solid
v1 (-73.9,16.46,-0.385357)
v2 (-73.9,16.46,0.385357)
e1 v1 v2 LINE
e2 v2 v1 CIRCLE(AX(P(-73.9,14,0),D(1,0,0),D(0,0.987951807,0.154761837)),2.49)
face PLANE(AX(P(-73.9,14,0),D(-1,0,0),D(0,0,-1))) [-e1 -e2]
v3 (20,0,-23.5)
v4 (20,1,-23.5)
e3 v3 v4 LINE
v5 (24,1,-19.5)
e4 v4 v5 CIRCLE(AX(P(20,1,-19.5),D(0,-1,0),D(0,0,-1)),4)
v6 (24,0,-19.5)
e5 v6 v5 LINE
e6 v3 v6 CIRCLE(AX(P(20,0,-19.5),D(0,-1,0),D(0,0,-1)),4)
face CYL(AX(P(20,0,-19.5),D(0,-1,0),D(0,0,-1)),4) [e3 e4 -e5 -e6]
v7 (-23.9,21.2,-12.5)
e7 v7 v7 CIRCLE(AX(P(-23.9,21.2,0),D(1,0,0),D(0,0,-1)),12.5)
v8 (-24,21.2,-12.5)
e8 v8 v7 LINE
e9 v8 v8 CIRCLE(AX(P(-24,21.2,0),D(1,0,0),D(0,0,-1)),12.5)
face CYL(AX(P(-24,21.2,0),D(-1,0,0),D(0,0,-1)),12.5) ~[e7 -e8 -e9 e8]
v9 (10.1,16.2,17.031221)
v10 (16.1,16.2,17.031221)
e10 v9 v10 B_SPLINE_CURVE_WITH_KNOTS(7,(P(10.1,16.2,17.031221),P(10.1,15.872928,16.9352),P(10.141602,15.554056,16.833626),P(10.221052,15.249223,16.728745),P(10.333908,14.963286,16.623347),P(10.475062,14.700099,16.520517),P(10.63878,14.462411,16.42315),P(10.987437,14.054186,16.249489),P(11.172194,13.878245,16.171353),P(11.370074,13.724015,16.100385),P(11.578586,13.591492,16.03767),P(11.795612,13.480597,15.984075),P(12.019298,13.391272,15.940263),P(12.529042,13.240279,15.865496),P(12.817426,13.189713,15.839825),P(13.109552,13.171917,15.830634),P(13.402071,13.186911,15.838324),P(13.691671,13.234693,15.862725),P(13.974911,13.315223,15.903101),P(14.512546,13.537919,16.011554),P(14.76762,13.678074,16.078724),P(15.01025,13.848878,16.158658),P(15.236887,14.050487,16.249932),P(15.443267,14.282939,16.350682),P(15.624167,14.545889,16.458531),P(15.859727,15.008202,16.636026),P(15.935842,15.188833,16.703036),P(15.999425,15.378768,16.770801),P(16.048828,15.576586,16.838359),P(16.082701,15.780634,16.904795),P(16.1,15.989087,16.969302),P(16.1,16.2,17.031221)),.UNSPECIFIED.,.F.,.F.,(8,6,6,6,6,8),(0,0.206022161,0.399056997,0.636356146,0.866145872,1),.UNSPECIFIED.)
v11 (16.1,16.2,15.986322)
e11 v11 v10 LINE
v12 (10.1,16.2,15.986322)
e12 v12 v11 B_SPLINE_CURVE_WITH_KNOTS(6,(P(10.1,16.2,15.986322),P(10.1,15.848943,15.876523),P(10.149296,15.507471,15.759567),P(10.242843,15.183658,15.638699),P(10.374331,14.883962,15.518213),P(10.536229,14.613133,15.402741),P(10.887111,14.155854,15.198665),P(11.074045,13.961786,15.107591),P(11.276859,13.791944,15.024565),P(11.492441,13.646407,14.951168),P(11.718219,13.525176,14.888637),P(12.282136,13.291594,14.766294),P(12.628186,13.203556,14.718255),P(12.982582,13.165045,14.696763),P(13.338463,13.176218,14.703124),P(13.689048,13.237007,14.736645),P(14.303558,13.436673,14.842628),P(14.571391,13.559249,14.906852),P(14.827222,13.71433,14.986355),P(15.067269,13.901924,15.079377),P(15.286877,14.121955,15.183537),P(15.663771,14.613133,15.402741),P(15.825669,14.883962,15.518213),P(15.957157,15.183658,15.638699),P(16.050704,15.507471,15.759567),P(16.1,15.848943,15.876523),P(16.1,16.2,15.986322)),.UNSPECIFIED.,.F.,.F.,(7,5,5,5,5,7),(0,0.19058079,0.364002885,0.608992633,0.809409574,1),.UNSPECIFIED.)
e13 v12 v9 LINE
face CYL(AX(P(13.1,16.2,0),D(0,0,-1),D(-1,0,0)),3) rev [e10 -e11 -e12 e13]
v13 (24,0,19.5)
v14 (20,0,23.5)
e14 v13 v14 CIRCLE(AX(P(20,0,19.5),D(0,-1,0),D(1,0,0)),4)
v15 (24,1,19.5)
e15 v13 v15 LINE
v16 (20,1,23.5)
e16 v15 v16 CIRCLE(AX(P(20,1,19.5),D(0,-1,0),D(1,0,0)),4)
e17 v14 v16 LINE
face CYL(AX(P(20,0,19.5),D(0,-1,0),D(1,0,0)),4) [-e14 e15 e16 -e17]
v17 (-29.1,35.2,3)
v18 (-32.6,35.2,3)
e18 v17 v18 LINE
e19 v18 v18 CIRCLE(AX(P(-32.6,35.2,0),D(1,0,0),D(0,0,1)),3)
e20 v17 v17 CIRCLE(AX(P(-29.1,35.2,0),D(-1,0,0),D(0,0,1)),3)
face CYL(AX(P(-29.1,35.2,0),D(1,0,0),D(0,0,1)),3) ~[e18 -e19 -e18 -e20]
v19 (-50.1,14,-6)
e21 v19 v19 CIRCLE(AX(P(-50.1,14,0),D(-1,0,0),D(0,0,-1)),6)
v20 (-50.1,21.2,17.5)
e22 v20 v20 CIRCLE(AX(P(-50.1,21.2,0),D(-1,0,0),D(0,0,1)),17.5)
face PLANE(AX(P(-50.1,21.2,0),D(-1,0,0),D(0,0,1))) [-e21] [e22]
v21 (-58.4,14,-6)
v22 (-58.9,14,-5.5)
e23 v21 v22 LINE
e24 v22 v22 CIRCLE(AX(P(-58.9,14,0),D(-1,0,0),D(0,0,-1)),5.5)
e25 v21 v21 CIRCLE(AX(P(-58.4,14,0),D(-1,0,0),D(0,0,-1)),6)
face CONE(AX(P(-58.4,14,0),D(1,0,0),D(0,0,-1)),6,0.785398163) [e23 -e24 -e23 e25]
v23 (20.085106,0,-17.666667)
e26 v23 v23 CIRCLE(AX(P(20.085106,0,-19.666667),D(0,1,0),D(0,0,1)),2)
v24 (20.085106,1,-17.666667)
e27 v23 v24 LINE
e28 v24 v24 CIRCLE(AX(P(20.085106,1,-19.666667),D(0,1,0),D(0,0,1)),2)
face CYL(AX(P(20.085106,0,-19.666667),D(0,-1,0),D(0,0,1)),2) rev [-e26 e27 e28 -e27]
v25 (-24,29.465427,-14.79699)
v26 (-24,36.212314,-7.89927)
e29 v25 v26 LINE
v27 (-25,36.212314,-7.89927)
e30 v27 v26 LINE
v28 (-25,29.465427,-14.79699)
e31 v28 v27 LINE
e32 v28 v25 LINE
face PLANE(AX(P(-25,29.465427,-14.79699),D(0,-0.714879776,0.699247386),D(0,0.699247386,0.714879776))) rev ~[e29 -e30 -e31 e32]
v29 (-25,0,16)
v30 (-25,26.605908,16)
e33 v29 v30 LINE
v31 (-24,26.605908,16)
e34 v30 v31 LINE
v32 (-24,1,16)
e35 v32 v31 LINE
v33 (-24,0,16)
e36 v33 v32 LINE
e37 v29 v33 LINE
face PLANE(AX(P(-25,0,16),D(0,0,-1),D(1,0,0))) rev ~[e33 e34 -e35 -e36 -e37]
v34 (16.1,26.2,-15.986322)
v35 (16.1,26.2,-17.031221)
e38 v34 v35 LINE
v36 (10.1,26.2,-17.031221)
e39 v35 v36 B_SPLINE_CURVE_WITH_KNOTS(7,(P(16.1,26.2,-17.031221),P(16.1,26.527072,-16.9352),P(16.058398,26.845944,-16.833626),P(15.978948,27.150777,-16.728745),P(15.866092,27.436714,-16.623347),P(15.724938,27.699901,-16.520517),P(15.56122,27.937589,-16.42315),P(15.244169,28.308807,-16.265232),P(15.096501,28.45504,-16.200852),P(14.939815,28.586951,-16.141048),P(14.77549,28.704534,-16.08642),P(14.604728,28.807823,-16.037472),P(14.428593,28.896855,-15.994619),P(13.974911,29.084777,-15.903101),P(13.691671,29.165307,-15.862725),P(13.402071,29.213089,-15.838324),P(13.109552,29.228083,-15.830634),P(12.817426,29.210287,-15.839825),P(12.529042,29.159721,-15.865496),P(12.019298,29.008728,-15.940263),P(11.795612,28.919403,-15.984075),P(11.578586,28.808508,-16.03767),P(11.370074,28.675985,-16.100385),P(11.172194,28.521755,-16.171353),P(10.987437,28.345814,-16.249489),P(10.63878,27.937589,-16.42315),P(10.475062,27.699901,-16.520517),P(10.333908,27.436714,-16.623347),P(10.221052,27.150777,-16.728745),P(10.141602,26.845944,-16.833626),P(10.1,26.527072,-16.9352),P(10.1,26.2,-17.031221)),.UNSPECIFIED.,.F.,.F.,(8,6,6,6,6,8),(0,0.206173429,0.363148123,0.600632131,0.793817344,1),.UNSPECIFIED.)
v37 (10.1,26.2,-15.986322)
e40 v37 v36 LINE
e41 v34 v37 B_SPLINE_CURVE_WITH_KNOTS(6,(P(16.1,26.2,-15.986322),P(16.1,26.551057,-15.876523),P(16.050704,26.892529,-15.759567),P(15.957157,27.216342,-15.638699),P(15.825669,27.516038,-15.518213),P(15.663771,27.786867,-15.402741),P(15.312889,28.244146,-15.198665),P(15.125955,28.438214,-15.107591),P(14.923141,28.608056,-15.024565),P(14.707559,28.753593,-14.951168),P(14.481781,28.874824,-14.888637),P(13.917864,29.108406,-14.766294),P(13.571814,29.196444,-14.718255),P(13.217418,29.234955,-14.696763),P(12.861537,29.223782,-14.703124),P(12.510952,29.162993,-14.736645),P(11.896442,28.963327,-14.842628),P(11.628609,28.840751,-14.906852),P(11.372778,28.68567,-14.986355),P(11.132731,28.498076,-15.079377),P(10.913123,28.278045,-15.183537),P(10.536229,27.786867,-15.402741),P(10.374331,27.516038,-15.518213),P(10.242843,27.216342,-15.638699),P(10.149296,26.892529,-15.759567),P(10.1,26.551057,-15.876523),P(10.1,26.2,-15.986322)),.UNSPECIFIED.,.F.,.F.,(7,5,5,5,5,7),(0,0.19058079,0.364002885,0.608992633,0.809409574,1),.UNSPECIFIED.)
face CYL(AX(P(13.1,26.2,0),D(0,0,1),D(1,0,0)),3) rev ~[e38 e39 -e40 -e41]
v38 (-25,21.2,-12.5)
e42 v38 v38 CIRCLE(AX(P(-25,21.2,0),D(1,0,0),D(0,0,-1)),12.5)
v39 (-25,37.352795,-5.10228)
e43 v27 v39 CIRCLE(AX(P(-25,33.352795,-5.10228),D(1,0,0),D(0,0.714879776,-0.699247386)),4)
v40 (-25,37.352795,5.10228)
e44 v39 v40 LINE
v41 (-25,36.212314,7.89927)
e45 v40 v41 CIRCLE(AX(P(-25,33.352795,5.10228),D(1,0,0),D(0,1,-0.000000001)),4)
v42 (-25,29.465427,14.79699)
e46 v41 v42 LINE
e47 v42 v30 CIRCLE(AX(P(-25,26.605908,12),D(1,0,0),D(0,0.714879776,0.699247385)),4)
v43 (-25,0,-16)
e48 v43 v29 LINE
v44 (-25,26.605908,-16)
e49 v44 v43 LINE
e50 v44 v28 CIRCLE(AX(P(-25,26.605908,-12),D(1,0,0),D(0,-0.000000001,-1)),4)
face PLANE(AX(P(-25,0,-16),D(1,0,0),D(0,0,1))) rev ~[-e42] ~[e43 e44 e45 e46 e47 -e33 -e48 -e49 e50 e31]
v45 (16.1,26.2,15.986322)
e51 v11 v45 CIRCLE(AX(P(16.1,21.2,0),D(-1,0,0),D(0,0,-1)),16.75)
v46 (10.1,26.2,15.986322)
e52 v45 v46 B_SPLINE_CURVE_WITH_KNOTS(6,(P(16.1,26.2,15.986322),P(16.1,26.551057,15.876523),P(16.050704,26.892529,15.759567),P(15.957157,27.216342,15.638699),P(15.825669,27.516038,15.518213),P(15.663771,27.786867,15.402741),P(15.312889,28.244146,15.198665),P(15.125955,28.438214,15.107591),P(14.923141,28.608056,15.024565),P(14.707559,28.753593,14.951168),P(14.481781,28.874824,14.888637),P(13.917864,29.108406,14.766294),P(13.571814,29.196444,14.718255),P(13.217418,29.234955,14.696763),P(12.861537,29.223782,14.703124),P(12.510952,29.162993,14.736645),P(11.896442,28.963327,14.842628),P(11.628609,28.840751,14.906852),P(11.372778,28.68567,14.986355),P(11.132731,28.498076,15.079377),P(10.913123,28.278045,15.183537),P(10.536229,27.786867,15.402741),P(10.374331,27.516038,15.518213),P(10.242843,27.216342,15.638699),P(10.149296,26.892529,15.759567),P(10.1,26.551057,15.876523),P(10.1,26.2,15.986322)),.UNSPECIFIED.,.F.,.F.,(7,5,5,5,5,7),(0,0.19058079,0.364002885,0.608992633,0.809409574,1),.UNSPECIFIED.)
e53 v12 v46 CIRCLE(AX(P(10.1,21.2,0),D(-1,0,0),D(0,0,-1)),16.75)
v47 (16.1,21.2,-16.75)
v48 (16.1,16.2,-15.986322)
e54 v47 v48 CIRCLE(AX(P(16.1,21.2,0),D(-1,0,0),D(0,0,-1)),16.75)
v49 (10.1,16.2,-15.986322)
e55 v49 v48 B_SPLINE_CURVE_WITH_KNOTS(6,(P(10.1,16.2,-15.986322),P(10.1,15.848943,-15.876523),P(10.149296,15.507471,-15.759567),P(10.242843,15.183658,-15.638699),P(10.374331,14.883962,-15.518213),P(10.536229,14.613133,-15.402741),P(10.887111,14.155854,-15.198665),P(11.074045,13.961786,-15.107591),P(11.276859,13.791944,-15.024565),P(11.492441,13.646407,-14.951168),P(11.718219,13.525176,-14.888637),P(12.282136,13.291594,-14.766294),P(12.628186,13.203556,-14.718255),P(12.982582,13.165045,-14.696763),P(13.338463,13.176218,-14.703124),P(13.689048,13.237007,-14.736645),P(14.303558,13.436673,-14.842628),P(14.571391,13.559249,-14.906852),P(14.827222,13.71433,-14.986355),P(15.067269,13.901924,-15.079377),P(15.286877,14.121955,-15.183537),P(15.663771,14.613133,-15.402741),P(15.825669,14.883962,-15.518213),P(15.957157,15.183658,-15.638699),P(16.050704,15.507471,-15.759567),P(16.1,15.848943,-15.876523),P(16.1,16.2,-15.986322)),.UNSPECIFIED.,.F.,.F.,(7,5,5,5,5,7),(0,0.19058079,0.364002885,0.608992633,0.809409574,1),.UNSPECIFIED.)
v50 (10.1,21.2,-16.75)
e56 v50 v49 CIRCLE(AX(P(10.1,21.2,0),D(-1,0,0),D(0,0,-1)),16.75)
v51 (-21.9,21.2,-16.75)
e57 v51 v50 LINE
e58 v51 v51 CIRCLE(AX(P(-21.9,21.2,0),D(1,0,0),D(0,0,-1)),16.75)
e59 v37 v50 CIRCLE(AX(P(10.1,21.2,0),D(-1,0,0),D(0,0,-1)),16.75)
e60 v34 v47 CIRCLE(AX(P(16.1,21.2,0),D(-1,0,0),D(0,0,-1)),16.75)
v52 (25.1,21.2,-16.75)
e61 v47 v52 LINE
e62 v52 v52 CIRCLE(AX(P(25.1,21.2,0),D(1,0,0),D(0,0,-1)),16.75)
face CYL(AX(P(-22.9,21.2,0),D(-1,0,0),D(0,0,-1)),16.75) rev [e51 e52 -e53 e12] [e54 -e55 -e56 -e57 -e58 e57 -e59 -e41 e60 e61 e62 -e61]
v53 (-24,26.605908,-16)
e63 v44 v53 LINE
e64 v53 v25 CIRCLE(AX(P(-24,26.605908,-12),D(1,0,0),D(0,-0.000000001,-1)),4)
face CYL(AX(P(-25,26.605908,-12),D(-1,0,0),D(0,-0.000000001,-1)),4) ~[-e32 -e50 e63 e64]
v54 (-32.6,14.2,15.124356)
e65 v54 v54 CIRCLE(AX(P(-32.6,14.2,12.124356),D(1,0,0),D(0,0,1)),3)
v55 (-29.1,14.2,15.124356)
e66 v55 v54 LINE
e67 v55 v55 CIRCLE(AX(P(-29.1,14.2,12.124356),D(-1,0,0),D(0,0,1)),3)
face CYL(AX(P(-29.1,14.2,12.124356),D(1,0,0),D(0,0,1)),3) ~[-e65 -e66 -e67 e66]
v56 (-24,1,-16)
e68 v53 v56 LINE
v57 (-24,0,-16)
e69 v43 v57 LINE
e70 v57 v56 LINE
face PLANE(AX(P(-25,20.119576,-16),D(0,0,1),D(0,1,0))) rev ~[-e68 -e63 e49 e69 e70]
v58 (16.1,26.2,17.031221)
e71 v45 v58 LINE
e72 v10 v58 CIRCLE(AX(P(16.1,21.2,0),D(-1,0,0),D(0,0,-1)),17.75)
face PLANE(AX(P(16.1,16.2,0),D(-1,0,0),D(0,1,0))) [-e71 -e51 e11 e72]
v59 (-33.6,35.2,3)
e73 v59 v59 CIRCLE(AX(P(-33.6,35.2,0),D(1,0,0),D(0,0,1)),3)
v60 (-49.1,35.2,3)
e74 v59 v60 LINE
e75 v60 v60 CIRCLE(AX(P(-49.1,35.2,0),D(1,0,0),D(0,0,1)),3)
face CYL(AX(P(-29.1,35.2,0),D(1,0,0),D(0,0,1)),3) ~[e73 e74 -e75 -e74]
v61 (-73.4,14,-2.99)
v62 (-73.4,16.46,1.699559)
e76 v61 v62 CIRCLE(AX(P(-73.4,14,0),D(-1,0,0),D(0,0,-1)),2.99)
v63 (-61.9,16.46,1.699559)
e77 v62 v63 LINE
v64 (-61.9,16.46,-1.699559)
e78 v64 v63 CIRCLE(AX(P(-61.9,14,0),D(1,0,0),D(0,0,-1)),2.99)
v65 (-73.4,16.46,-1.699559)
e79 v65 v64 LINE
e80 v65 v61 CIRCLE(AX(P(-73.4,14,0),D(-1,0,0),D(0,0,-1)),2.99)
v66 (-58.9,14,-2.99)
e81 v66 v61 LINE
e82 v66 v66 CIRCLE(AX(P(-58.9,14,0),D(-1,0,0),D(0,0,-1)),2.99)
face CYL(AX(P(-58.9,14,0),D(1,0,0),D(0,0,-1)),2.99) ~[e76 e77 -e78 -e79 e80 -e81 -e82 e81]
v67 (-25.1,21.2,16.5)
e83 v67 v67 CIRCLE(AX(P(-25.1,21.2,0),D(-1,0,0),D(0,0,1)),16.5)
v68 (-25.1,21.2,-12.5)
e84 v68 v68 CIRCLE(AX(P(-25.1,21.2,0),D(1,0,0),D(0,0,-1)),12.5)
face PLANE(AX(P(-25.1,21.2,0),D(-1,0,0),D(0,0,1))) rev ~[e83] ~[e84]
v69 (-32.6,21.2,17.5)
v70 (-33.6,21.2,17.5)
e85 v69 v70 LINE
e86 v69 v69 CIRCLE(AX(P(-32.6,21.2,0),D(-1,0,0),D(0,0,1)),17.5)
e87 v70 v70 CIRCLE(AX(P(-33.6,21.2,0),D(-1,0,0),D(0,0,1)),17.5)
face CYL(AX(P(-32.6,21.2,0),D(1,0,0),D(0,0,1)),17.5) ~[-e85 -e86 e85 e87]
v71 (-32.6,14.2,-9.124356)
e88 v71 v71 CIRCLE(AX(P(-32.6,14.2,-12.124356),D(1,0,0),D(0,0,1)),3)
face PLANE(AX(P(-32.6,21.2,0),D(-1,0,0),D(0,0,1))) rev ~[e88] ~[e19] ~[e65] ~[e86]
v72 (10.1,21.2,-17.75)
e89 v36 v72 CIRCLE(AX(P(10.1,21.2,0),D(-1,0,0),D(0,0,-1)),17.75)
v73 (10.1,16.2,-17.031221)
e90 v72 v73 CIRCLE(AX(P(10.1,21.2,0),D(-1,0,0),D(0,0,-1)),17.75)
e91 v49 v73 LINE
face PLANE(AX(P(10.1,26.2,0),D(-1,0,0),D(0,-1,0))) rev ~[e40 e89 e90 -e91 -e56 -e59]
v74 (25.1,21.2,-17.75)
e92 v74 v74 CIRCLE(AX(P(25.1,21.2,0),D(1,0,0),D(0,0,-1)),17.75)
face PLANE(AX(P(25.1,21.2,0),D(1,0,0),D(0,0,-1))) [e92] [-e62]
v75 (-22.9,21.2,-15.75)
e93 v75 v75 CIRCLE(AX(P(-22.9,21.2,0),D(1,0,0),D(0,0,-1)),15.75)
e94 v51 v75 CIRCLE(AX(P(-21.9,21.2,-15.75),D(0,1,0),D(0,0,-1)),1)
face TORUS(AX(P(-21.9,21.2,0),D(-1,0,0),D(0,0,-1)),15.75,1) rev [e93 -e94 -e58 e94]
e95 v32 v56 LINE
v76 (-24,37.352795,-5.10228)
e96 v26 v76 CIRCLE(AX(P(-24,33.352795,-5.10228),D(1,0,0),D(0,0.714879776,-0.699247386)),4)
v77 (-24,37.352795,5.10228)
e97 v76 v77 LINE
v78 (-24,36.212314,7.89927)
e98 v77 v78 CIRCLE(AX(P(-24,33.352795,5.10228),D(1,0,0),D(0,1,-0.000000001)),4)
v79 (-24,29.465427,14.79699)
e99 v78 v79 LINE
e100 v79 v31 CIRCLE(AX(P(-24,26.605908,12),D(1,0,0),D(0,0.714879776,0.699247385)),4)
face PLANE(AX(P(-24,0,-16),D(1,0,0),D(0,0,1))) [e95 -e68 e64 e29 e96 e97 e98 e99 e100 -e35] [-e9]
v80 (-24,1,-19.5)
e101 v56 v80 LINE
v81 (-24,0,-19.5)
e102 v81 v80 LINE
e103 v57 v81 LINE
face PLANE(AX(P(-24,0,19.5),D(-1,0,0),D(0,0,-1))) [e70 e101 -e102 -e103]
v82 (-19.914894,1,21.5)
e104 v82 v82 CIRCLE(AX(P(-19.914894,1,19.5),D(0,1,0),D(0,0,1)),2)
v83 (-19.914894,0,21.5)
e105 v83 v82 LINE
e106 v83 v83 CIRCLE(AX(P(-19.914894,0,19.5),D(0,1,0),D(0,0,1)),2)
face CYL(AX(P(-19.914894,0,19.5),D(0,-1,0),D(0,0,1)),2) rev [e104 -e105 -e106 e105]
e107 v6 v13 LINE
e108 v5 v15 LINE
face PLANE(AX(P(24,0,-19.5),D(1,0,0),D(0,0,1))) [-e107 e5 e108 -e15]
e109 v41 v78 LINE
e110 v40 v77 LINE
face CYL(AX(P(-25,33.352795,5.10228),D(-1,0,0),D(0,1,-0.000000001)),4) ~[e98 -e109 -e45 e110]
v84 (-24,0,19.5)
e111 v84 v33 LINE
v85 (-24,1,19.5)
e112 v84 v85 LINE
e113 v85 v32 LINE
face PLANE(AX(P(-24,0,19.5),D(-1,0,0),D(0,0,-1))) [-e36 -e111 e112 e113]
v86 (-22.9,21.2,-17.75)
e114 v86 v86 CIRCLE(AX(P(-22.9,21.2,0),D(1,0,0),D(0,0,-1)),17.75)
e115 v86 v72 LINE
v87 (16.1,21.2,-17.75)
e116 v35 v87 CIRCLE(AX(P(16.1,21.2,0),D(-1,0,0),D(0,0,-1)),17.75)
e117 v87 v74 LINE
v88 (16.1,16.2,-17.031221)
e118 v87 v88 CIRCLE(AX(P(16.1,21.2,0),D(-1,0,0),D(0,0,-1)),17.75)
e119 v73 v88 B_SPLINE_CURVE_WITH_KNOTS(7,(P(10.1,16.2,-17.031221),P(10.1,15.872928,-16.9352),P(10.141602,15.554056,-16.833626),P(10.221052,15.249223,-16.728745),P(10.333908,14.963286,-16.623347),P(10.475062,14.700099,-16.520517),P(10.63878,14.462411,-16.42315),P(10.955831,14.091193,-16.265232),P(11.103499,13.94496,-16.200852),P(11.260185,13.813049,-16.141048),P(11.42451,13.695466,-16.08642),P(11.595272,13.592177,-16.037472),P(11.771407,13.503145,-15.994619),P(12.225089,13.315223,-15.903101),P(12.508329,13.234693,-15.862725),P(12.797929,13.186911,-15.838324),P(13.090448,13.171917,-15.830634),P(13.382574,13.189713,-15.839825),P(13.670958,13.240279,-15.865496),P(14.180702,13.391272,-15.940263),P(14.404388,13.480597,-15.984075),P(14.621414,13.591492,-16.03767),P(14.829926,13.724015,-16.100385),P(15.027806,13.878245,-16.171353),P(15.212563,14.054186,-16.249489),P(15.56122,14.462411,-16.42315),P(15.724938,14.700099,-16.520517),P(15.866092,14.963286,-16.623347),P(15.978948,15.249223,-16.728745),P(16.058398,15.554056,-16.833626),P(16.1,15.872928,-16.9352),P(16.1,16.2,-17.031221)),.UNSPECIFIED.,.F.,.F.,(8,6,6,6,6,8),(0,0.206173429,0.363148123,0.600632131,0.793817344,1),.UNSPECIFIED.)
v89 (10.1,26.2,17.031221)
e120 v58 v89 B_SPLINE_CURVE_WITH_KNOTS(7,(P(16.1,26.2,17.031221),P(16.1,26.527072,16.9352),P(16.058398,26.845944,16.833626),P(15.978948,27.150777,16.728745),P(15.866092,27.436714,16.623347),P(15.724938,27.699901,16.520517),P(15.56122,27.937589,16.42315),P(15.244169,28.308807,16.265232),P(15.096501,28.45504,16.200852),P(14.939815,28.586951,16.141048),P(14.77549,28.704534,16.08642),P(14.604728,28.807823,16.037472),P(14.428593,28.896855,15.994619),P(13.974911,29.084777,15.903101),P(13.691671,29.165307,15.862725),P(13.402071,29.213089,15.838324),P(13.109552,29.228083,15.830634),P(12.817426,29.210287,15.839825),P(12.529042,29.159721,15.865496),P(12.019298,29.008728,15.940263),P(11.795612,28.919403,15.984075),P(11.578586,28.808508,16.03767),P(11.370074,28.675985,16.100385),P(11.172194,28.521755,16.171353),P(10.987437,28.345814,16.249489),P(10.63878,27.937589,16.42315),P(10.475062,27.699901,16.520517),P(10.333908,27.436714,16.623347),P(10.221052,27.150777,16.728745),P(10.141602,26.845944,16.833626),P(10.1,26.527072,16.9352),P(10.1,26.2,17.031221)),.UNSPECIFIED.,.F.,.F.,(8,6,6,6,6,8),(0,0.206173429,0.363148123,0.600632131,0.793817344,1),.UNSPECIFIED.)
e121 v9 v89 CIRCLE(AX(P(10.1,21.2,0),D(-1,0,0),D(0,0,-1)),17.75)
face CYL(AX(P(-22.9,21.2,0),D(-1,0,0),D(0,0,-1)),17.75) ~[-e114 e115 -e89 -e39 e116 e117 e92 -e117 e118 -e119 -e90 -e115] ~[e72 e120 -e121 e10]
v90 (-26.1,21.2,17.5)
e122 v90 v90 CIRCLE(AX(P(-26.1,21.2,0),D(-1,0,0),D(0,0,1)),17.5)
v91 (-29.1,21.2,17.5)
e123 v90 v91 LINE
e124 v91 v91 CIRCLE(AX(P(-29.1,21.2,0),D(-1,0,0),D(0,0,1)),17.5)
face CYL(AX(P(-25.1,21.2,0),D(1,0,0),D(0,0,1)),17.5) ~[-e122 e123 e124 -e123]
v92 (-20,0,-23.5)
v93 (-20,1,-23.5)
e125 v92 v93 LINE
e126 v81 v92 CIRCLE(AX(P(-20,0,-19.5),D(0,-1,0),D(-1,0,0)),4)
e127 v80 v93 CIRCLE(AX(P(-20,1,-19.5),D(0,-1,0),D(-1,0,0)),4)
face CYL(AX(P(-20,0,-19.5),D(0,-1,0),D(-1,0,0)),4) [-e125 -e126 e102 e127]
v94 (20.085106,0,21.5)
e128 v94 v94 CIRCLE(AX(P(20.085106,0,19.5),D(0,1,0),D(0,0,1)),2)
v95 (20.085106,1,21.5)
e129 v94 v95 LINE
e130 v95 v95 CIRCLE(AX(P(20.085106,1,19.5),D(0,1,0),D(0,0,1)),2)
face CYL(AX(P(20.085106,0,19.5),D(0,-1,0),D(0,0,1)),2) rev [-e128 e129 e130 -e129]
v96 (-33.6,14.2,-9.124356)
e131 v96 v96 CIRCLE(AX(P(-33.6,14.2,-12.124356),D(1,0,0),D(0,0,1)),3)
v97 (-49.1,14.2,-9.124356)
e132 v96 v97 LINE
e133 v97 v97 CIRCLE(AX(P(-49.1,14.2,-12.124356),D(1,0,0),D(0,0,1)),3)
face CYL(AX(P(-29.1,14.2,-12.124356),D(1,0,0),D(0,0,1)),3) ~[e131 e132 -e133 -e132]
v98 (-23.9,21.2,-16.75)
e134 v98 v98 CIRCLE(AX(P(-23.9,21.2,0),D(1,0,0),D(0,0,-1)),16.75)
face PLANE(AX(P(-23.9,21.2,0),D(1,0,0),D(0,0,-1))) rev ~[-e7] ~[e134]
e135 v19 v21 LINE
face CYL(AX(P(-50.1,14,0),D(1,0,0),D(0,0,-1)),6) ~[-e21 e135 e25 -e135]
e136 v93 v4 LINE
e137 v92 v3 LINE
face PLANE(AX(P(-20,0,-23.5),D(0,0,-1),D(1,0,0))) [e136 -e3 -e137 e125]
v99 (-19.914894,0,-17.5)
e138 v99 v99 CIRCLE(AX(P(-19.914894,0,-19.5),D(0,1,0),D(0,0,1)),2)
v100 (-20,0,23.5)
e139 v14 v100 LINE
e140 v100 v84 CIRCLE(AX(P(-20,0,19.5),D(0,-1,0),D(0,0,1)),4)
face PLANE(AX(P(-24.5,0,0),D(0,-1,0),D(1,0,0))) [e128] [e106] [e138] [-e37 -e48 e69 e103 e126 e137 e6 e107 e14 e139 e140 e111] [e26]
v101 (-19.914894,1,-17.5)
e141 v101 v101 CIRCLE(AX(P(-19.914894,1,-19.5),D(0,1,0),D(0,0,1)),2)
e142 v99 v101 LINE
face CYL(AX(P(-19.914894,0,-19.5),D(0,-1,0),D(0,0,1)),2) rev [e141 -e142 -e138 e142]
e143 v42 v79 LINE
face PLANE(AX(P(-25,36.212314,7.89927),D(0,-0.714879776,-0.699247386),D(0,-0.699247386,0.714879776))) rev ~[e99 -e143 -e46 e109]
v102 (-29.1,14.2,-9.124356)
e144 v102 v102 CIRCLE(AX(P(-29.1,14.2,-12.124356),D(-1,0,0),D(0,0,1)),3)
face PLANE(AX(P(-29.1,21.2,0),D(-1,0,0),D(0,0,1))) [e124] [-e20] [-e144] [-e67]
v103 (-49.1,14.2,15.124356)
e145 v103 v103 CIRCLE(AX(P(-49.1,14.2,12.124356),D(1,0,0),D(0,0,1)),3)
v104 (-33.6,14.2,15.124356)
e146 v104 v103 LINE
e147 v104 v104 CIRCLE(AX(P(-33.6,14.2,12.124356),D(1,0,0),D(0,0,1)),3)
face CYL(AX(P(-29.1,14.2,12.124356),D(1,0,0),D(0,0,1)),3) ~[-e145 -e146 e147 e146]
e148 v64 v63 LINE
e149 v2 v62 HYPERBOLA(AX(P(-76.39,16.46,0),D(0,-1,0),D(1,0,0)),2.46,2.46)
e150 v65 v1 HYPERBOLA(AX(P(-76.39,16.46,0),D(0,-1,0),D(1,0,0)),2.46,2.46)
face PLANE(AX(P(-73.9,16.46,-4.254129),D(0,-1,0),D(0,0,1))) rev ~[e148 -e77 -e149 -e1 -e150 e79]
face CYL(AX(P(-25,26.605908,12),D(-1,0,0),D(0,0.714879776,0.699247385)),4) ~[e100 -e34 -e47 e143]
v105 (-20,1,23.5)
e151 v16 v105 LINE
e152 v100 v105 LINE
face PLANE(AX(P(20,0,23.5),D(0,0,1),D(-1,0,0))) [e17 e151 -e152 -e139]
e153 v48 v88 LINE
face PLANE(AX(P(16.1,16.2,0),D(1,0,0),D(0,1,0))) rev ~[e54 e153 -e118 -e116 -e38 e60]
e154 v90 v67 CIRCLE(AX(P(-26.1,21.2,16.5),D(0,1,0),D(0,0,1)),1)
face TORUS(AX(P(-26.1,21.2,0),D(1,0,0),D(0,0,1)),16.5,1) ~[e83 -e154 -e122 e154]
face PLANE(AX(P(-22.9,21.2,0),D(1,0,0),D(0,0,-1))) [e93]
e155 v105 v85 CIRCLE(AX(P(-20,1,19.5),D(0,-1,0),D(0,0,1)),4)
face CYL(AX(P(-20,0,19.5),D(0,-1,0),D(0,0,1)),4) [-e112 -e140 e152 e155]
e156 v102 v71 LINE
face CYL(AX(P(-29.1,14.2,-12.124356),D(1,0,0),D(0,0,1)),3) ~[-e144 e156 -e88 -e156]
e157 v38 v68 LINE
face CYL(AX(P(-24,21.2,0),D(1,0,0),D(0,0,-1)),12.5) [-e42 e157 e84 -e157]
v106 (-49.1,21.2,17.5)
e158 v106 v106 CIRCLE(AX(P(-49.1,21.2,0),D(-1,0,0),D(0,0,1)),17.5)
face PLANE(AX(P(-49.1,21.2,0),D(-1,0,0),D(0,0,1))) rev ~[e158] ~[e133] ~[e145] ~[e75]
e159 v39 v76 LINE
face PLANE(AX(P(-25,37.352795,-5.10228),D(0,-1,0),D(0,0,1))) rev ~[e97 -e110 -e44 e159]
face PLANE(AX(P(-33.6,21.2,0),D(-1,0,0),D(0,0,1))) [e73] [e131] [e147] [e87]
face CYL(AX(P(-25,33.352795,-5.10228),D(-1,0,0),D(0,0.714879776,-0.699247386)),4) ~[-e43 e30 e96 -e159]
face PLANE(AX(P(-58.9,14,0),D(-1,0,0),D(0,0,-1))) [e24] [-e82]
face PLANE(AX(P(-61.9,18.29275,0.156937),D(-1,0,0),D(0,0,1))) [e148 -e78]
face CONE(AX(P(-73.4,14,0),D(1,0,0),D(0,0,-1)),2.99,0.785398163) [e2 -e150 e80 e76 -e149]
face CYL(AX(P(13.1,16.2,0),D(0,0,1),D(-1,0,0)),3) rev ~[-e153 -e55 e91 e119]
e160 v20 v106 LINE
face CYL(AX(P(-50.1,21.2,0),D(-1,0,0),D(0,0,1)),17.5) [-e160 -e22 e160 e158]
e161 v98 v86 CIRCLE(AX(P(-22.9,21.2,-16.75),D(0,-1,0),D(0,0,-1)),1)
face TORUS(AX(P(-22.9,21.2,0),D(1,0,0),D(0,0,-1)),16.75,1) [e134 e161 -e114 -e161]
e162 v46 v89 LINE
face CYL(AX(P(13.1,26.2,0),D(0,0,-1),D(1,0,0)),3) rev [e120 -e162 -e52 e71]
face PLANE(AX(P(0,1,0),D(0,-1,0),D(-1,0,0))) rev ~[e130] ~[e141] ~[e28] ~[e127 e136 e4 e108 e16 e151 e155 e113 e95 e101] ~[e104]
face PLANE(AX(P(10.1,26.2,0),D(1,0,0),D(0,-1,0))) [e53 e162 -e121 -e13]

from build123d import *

# Parameters (mm, degrees)
SKETCH1_R               = 2
EXTRUDE1_DEPTH          = 1
SKETCH2_W               = 1
SKETCH2_H               = 32
EXTRUDE2_DEPTH          = 38
SKETCH3_R               = 12.5
EXTRUDE3_DEPTH          = 0.1
EXTRUDE3_DEPTH_BACK     = 1.1
SKETCH4_R               = 17.75
EXTRUDE4_DEPTH          = 1
SKETCH5_R               = 17.75
SKETCH5_R_2             = 16.75
EXTRUDE5_DEPTH          = 48
CUT_EXTRUDE1_DEPTH      = 48
CUT_EXTRUDE1_DEPTH_BACK = 48
SKETCH7_R               = 17.5
EXTRUDE6_DEPTH          = 4
SKETCH8_R               = 3
EXTRUDE7_DEPTH          = 21
SKETCH9_R               = 17.5
EXTRUDE8_DEPTH          = 1
FILLET1_R               = 1
SKETCH10_R              = 6
EXTRUDE9_DEPTH          = 8.8
SKETCH12_R              = 2.99
EXTRUDE10_DEPTH         = 15
CHAMFER1_SIZE           = 0.5
SKETCH13_W              = 8.822132464
SKETCH13_H              = 3.665499941
CUT_EXTRUDE2_DEPTH      = 12
SKETCH14_R              = 17.5
EXTRUDE11_DEPTH         = 1
CUT_EXTRUDE3_DEPTH      = 1


with BuildPart() as part:
    # Sketch1 → Extrude1 (new body)
    with BuildSketch(Plane(origin=(0, 0, 0), x_dir=(1, 0, 0), z_dir=(0, 1, 0))):
        with BuildLine():
            Line((-20, 23.5), (20, 23.5))
            ThreePointArc((20, 23.5), (22.828427125, 22.328427125), (24, 19.5))
            Line((24, 19.5), (24, -19.5))
            ThreePointArc((24, -19.5), (22.828427125, -22.328427125), (20, -23.5))
            Line((20, -23.5), (-20, -23.5))
            ThreePointArc((-20, -23.5), (-22.828427125, -22.328427125), (-24, -19.5))
            Line((-24, -19.5), (-24, 19.5))
            ThreePointArc((-24, 19.5), (-22.828427125, 22.328427125), (-20, 23.5))
        make_face()
        with Locations(Location((-19.914893617, 19.5, 0), (0, 0, 270))):  # turned: the seam where the file's is
            Circle(SKETCH1_R, mode=Mode.SUBTRACT)
        with Locations(Location((20.085106383, 19.666666667, 0), (0, 0, 270))):  # turned: the seam where the file's is
            Circle(SKETCH1_R, mode=Mode.SUBTRACT)
        with Locations(Location((-19.914893617, -19.5, 0), (0, 0, 270))):  # turned: the seam where the file's is
            Circle(SKETCH1_R, mode=Mode.SUBTRACT)
        with Locations(Location((20.085106383, -19.5, 0), (0, 0, 270))):  # turned: the seam where the file's is
            Circle(SKETCH1_R, mode=Mode.SUBTRACT)
    extrude(amount=EXTRUDE1_DEPTH)

    # Sketch2 → Extrude2 (add)
    with BuildSketch(Plane.XZ):
        with Locations((-24.5, 0)):
            Rectangle(SKETCH2_W, SKETCH2_H)
    extrude(amount=-EXTRUDE2_DEPTH)

    # Sketch3 → Extrude3 (add, two sides)
    with BuildSketch(Plane(origin=(-24, 0, 0), x_dir=(0, 0, -1), z_dir=(1, 0, 0))) as extrude3_sk:
        with Locations((0, 21.2)):
            Circle(SKETCH3_R)
    extrude(amount=EXTRUDE3_DEPTH)
    extrude(extrude3_sk.sketch, amount=-EXTRUDE3_DEPTH_BACK)

    # Sketch4 → Extrude4 (add)
    with BuildSketch(Plane(origin=(-23.9, 0, 0), x_dir=(0, 0, -1), z_dir=(1, 0, 0))):
        with Locations((0, 21.2)):
            Circle(SKETCH4_R)
    extrude(amount=EXTRUDE4_DEPTH)

    # Sketch5 → Extrude5 (add)
    with BuildSketch(Plane(origin=(-22.9, 0, 0), x_dir=(0, 0, -1), z_dir=(1, 0, 0))):
        with Locations((0, 21.2)):
            Circle(SKETCH5_R)
        with Locations((0, 21.2)):
            Circle(SKETCH5_R_2, mode=Mode.SUBTRACT)
    extrude(amount=EXTRUDE5_DEPTH)

    # Sketch6 → Cut-Extrude1 (cut, two sides)
    with BuildSketch(Plane.XY) as cut_extrude1_sk:
        with BuildLine():
            Line((10.1, 26.2), (10.1, 16.2))
            ThreePointArc((10.1, 16.2), (13.1, 13.2), (16.1, 16.2))
            Line((16.1, 16.2), (16.1, 26.2))
            ThreePointArc((16.1, 26.2), (13.1, 29.2), (10.1, 26.2))
        make_face()
    extrude(amount=CUT_EXTRUDE1_DEPTH, mode=Mode.SUBTRACT)
    extrude(cut_extrude1_sk.sketch, amount=-CUT_EXTRUDE1_DEPTH_BACK, mode=Mode.SUBTRACT)

    # Sketch7 → Extrude6 (add)
    with BuildSketch(Plane.ZY.offset(25.1)):
        with Locations((0, 21.2)):
            Circle(SKETCH7_R)
    extrude(amount=EXTRUDE6_DEPTH)

    # Sketch8 → Extrude7 (add)
    with BuildSketch(Plane.ZY.offset(29.1)):
        with Locations((0, 35.2)):
            Circle(SKETCH8_R)
        with Locations((12.124355653, 14.2)):
            Circle(SKETCH8_R)
        with Locations((-12.124355653, 14.2)):
            Circle(SKETCH8_R)
    extrude(amount=EXTRUDE7_DEPTH)

    # Sketch9 → Extrude8 (add)
    with BuildSketch(Plane.ZY.offset(50.1)):
        with Locations((0, 21.2)):
            Circle(SKETCH9_R)
    extrude(amount=-EXTRUDE8_DEPTH)

    # Fillet1
    fillet1_edges = [part.edges().sort_by_distance(p)[0] for p in [
        (-25.1, 21.2, -17.5),
        (-23.9, 21.2, 17.75),
        (-22.9, 21.2, 16.75),
    ]]
    fillet(fillet1_edges, radius=FILLET1_R)

    # Sketch10 → Extrude9 (add)
    with BuildSketch(Plane.ZY.offset(50.1)):
        with Locations(Location((0, 14, 0), (0, 0, 180))):  # turned: the seam where the file's is
            Circle(SKETCH10_R)
    extrude(amount=EXTRUDE9_DEPTH)

    # Sketch12 → Extrude10 (add)
    with BuildSketch(Plane.ZY.offset(58.9)):
        with Locations(Location((0, 14, 0), (0, 0, 180))):  # turned: the seam where the file's is
            Circle(SKETCH12_R)
    extrude(amount=EXTRUDE10_DEPTH)

    # Chamfer1
    chamfer1_edges = [part.edges().sort_by_distance(p)[0] for p in [
        (-58.9, 14, 6),
        (-73.9, 14, 2.99),
    ]]
    chamfer(chamfer1_edges, length=CHAMFER1_SIZE)

    # Sketch13 → Cut-Extrude2 (cut)
    with BuildSketch(Plane.ZY.offset(73.9)):
        with Locations((0.15693732, 18.292749971)):
            Rectangle(SKETCH13_W, SKETCH13_H)
    extrude(amount=-CUT_EXTRUDE2_DEPTH, mode=Mode.SUBTRACT)

    # Sketch14 → Extrude11 (add)
    with BuildSketch(Plane.ZY.offset(32.6)):
        with Locations((0, 21.2)):
            Circle(SKETCH14_R)
    extrude(amount=EXTRUDE11_DEPTH)

    # Sketch15 → Cut-Extrude3 (cut)
    with BuildSketch(Plane.ZY.offset(25)):
        with BuildLine():
            Line((-33.874184882, 26.312654404), (-16, 20.119575519))
            Line((-16, 20.119575519), (-16, 26.605908372))
            ThreePointArc((-16, 26.605908372), (-15.687001368, 28.157043736), (-14.796989542, 29.465427475))
            Line((-14.796989542, 29.465427475), (-7.899269666, 36.212313809))
            ThreePointArc((-7.899269666, 36.212313809), (-6.612565459, 37.056716709), (-5.102280124, 37.352794705))
            Line((-5.102280124, 37.352794705), (5.102280124, 37.352794705))
            ThreePointArc((5.102280124, 37.352794705), (6.612565459, 37.056716709), (7.899269666, 36.212313809))
            Line((7.899269666, 36.212313809), (14.796989542, 29.465427475))
            ThreePointArc((14.796989542, 29.465427475), (15.687001368, 28.157043736), (16, 26.605908372))
            Line((16, 26.605908372), (16, 20.119575519))
            Line((16, 20.119575519), (28.647949719, 26.312654404))
            Line((28.647949719, 26.312654404), (28.647949719, 45.536112941))
            Line((28.647949719, 45.536112941), (-33.874184882, 45.536112941))
            Line((-33.874184882, 45.536112941), (-33.874184882, 26.312654404))
        make_face()
    extrude(amount=-CUT_EXTRUDE3_DEPTH, mode=Mode.SUBTRACT)


solid = part.part
